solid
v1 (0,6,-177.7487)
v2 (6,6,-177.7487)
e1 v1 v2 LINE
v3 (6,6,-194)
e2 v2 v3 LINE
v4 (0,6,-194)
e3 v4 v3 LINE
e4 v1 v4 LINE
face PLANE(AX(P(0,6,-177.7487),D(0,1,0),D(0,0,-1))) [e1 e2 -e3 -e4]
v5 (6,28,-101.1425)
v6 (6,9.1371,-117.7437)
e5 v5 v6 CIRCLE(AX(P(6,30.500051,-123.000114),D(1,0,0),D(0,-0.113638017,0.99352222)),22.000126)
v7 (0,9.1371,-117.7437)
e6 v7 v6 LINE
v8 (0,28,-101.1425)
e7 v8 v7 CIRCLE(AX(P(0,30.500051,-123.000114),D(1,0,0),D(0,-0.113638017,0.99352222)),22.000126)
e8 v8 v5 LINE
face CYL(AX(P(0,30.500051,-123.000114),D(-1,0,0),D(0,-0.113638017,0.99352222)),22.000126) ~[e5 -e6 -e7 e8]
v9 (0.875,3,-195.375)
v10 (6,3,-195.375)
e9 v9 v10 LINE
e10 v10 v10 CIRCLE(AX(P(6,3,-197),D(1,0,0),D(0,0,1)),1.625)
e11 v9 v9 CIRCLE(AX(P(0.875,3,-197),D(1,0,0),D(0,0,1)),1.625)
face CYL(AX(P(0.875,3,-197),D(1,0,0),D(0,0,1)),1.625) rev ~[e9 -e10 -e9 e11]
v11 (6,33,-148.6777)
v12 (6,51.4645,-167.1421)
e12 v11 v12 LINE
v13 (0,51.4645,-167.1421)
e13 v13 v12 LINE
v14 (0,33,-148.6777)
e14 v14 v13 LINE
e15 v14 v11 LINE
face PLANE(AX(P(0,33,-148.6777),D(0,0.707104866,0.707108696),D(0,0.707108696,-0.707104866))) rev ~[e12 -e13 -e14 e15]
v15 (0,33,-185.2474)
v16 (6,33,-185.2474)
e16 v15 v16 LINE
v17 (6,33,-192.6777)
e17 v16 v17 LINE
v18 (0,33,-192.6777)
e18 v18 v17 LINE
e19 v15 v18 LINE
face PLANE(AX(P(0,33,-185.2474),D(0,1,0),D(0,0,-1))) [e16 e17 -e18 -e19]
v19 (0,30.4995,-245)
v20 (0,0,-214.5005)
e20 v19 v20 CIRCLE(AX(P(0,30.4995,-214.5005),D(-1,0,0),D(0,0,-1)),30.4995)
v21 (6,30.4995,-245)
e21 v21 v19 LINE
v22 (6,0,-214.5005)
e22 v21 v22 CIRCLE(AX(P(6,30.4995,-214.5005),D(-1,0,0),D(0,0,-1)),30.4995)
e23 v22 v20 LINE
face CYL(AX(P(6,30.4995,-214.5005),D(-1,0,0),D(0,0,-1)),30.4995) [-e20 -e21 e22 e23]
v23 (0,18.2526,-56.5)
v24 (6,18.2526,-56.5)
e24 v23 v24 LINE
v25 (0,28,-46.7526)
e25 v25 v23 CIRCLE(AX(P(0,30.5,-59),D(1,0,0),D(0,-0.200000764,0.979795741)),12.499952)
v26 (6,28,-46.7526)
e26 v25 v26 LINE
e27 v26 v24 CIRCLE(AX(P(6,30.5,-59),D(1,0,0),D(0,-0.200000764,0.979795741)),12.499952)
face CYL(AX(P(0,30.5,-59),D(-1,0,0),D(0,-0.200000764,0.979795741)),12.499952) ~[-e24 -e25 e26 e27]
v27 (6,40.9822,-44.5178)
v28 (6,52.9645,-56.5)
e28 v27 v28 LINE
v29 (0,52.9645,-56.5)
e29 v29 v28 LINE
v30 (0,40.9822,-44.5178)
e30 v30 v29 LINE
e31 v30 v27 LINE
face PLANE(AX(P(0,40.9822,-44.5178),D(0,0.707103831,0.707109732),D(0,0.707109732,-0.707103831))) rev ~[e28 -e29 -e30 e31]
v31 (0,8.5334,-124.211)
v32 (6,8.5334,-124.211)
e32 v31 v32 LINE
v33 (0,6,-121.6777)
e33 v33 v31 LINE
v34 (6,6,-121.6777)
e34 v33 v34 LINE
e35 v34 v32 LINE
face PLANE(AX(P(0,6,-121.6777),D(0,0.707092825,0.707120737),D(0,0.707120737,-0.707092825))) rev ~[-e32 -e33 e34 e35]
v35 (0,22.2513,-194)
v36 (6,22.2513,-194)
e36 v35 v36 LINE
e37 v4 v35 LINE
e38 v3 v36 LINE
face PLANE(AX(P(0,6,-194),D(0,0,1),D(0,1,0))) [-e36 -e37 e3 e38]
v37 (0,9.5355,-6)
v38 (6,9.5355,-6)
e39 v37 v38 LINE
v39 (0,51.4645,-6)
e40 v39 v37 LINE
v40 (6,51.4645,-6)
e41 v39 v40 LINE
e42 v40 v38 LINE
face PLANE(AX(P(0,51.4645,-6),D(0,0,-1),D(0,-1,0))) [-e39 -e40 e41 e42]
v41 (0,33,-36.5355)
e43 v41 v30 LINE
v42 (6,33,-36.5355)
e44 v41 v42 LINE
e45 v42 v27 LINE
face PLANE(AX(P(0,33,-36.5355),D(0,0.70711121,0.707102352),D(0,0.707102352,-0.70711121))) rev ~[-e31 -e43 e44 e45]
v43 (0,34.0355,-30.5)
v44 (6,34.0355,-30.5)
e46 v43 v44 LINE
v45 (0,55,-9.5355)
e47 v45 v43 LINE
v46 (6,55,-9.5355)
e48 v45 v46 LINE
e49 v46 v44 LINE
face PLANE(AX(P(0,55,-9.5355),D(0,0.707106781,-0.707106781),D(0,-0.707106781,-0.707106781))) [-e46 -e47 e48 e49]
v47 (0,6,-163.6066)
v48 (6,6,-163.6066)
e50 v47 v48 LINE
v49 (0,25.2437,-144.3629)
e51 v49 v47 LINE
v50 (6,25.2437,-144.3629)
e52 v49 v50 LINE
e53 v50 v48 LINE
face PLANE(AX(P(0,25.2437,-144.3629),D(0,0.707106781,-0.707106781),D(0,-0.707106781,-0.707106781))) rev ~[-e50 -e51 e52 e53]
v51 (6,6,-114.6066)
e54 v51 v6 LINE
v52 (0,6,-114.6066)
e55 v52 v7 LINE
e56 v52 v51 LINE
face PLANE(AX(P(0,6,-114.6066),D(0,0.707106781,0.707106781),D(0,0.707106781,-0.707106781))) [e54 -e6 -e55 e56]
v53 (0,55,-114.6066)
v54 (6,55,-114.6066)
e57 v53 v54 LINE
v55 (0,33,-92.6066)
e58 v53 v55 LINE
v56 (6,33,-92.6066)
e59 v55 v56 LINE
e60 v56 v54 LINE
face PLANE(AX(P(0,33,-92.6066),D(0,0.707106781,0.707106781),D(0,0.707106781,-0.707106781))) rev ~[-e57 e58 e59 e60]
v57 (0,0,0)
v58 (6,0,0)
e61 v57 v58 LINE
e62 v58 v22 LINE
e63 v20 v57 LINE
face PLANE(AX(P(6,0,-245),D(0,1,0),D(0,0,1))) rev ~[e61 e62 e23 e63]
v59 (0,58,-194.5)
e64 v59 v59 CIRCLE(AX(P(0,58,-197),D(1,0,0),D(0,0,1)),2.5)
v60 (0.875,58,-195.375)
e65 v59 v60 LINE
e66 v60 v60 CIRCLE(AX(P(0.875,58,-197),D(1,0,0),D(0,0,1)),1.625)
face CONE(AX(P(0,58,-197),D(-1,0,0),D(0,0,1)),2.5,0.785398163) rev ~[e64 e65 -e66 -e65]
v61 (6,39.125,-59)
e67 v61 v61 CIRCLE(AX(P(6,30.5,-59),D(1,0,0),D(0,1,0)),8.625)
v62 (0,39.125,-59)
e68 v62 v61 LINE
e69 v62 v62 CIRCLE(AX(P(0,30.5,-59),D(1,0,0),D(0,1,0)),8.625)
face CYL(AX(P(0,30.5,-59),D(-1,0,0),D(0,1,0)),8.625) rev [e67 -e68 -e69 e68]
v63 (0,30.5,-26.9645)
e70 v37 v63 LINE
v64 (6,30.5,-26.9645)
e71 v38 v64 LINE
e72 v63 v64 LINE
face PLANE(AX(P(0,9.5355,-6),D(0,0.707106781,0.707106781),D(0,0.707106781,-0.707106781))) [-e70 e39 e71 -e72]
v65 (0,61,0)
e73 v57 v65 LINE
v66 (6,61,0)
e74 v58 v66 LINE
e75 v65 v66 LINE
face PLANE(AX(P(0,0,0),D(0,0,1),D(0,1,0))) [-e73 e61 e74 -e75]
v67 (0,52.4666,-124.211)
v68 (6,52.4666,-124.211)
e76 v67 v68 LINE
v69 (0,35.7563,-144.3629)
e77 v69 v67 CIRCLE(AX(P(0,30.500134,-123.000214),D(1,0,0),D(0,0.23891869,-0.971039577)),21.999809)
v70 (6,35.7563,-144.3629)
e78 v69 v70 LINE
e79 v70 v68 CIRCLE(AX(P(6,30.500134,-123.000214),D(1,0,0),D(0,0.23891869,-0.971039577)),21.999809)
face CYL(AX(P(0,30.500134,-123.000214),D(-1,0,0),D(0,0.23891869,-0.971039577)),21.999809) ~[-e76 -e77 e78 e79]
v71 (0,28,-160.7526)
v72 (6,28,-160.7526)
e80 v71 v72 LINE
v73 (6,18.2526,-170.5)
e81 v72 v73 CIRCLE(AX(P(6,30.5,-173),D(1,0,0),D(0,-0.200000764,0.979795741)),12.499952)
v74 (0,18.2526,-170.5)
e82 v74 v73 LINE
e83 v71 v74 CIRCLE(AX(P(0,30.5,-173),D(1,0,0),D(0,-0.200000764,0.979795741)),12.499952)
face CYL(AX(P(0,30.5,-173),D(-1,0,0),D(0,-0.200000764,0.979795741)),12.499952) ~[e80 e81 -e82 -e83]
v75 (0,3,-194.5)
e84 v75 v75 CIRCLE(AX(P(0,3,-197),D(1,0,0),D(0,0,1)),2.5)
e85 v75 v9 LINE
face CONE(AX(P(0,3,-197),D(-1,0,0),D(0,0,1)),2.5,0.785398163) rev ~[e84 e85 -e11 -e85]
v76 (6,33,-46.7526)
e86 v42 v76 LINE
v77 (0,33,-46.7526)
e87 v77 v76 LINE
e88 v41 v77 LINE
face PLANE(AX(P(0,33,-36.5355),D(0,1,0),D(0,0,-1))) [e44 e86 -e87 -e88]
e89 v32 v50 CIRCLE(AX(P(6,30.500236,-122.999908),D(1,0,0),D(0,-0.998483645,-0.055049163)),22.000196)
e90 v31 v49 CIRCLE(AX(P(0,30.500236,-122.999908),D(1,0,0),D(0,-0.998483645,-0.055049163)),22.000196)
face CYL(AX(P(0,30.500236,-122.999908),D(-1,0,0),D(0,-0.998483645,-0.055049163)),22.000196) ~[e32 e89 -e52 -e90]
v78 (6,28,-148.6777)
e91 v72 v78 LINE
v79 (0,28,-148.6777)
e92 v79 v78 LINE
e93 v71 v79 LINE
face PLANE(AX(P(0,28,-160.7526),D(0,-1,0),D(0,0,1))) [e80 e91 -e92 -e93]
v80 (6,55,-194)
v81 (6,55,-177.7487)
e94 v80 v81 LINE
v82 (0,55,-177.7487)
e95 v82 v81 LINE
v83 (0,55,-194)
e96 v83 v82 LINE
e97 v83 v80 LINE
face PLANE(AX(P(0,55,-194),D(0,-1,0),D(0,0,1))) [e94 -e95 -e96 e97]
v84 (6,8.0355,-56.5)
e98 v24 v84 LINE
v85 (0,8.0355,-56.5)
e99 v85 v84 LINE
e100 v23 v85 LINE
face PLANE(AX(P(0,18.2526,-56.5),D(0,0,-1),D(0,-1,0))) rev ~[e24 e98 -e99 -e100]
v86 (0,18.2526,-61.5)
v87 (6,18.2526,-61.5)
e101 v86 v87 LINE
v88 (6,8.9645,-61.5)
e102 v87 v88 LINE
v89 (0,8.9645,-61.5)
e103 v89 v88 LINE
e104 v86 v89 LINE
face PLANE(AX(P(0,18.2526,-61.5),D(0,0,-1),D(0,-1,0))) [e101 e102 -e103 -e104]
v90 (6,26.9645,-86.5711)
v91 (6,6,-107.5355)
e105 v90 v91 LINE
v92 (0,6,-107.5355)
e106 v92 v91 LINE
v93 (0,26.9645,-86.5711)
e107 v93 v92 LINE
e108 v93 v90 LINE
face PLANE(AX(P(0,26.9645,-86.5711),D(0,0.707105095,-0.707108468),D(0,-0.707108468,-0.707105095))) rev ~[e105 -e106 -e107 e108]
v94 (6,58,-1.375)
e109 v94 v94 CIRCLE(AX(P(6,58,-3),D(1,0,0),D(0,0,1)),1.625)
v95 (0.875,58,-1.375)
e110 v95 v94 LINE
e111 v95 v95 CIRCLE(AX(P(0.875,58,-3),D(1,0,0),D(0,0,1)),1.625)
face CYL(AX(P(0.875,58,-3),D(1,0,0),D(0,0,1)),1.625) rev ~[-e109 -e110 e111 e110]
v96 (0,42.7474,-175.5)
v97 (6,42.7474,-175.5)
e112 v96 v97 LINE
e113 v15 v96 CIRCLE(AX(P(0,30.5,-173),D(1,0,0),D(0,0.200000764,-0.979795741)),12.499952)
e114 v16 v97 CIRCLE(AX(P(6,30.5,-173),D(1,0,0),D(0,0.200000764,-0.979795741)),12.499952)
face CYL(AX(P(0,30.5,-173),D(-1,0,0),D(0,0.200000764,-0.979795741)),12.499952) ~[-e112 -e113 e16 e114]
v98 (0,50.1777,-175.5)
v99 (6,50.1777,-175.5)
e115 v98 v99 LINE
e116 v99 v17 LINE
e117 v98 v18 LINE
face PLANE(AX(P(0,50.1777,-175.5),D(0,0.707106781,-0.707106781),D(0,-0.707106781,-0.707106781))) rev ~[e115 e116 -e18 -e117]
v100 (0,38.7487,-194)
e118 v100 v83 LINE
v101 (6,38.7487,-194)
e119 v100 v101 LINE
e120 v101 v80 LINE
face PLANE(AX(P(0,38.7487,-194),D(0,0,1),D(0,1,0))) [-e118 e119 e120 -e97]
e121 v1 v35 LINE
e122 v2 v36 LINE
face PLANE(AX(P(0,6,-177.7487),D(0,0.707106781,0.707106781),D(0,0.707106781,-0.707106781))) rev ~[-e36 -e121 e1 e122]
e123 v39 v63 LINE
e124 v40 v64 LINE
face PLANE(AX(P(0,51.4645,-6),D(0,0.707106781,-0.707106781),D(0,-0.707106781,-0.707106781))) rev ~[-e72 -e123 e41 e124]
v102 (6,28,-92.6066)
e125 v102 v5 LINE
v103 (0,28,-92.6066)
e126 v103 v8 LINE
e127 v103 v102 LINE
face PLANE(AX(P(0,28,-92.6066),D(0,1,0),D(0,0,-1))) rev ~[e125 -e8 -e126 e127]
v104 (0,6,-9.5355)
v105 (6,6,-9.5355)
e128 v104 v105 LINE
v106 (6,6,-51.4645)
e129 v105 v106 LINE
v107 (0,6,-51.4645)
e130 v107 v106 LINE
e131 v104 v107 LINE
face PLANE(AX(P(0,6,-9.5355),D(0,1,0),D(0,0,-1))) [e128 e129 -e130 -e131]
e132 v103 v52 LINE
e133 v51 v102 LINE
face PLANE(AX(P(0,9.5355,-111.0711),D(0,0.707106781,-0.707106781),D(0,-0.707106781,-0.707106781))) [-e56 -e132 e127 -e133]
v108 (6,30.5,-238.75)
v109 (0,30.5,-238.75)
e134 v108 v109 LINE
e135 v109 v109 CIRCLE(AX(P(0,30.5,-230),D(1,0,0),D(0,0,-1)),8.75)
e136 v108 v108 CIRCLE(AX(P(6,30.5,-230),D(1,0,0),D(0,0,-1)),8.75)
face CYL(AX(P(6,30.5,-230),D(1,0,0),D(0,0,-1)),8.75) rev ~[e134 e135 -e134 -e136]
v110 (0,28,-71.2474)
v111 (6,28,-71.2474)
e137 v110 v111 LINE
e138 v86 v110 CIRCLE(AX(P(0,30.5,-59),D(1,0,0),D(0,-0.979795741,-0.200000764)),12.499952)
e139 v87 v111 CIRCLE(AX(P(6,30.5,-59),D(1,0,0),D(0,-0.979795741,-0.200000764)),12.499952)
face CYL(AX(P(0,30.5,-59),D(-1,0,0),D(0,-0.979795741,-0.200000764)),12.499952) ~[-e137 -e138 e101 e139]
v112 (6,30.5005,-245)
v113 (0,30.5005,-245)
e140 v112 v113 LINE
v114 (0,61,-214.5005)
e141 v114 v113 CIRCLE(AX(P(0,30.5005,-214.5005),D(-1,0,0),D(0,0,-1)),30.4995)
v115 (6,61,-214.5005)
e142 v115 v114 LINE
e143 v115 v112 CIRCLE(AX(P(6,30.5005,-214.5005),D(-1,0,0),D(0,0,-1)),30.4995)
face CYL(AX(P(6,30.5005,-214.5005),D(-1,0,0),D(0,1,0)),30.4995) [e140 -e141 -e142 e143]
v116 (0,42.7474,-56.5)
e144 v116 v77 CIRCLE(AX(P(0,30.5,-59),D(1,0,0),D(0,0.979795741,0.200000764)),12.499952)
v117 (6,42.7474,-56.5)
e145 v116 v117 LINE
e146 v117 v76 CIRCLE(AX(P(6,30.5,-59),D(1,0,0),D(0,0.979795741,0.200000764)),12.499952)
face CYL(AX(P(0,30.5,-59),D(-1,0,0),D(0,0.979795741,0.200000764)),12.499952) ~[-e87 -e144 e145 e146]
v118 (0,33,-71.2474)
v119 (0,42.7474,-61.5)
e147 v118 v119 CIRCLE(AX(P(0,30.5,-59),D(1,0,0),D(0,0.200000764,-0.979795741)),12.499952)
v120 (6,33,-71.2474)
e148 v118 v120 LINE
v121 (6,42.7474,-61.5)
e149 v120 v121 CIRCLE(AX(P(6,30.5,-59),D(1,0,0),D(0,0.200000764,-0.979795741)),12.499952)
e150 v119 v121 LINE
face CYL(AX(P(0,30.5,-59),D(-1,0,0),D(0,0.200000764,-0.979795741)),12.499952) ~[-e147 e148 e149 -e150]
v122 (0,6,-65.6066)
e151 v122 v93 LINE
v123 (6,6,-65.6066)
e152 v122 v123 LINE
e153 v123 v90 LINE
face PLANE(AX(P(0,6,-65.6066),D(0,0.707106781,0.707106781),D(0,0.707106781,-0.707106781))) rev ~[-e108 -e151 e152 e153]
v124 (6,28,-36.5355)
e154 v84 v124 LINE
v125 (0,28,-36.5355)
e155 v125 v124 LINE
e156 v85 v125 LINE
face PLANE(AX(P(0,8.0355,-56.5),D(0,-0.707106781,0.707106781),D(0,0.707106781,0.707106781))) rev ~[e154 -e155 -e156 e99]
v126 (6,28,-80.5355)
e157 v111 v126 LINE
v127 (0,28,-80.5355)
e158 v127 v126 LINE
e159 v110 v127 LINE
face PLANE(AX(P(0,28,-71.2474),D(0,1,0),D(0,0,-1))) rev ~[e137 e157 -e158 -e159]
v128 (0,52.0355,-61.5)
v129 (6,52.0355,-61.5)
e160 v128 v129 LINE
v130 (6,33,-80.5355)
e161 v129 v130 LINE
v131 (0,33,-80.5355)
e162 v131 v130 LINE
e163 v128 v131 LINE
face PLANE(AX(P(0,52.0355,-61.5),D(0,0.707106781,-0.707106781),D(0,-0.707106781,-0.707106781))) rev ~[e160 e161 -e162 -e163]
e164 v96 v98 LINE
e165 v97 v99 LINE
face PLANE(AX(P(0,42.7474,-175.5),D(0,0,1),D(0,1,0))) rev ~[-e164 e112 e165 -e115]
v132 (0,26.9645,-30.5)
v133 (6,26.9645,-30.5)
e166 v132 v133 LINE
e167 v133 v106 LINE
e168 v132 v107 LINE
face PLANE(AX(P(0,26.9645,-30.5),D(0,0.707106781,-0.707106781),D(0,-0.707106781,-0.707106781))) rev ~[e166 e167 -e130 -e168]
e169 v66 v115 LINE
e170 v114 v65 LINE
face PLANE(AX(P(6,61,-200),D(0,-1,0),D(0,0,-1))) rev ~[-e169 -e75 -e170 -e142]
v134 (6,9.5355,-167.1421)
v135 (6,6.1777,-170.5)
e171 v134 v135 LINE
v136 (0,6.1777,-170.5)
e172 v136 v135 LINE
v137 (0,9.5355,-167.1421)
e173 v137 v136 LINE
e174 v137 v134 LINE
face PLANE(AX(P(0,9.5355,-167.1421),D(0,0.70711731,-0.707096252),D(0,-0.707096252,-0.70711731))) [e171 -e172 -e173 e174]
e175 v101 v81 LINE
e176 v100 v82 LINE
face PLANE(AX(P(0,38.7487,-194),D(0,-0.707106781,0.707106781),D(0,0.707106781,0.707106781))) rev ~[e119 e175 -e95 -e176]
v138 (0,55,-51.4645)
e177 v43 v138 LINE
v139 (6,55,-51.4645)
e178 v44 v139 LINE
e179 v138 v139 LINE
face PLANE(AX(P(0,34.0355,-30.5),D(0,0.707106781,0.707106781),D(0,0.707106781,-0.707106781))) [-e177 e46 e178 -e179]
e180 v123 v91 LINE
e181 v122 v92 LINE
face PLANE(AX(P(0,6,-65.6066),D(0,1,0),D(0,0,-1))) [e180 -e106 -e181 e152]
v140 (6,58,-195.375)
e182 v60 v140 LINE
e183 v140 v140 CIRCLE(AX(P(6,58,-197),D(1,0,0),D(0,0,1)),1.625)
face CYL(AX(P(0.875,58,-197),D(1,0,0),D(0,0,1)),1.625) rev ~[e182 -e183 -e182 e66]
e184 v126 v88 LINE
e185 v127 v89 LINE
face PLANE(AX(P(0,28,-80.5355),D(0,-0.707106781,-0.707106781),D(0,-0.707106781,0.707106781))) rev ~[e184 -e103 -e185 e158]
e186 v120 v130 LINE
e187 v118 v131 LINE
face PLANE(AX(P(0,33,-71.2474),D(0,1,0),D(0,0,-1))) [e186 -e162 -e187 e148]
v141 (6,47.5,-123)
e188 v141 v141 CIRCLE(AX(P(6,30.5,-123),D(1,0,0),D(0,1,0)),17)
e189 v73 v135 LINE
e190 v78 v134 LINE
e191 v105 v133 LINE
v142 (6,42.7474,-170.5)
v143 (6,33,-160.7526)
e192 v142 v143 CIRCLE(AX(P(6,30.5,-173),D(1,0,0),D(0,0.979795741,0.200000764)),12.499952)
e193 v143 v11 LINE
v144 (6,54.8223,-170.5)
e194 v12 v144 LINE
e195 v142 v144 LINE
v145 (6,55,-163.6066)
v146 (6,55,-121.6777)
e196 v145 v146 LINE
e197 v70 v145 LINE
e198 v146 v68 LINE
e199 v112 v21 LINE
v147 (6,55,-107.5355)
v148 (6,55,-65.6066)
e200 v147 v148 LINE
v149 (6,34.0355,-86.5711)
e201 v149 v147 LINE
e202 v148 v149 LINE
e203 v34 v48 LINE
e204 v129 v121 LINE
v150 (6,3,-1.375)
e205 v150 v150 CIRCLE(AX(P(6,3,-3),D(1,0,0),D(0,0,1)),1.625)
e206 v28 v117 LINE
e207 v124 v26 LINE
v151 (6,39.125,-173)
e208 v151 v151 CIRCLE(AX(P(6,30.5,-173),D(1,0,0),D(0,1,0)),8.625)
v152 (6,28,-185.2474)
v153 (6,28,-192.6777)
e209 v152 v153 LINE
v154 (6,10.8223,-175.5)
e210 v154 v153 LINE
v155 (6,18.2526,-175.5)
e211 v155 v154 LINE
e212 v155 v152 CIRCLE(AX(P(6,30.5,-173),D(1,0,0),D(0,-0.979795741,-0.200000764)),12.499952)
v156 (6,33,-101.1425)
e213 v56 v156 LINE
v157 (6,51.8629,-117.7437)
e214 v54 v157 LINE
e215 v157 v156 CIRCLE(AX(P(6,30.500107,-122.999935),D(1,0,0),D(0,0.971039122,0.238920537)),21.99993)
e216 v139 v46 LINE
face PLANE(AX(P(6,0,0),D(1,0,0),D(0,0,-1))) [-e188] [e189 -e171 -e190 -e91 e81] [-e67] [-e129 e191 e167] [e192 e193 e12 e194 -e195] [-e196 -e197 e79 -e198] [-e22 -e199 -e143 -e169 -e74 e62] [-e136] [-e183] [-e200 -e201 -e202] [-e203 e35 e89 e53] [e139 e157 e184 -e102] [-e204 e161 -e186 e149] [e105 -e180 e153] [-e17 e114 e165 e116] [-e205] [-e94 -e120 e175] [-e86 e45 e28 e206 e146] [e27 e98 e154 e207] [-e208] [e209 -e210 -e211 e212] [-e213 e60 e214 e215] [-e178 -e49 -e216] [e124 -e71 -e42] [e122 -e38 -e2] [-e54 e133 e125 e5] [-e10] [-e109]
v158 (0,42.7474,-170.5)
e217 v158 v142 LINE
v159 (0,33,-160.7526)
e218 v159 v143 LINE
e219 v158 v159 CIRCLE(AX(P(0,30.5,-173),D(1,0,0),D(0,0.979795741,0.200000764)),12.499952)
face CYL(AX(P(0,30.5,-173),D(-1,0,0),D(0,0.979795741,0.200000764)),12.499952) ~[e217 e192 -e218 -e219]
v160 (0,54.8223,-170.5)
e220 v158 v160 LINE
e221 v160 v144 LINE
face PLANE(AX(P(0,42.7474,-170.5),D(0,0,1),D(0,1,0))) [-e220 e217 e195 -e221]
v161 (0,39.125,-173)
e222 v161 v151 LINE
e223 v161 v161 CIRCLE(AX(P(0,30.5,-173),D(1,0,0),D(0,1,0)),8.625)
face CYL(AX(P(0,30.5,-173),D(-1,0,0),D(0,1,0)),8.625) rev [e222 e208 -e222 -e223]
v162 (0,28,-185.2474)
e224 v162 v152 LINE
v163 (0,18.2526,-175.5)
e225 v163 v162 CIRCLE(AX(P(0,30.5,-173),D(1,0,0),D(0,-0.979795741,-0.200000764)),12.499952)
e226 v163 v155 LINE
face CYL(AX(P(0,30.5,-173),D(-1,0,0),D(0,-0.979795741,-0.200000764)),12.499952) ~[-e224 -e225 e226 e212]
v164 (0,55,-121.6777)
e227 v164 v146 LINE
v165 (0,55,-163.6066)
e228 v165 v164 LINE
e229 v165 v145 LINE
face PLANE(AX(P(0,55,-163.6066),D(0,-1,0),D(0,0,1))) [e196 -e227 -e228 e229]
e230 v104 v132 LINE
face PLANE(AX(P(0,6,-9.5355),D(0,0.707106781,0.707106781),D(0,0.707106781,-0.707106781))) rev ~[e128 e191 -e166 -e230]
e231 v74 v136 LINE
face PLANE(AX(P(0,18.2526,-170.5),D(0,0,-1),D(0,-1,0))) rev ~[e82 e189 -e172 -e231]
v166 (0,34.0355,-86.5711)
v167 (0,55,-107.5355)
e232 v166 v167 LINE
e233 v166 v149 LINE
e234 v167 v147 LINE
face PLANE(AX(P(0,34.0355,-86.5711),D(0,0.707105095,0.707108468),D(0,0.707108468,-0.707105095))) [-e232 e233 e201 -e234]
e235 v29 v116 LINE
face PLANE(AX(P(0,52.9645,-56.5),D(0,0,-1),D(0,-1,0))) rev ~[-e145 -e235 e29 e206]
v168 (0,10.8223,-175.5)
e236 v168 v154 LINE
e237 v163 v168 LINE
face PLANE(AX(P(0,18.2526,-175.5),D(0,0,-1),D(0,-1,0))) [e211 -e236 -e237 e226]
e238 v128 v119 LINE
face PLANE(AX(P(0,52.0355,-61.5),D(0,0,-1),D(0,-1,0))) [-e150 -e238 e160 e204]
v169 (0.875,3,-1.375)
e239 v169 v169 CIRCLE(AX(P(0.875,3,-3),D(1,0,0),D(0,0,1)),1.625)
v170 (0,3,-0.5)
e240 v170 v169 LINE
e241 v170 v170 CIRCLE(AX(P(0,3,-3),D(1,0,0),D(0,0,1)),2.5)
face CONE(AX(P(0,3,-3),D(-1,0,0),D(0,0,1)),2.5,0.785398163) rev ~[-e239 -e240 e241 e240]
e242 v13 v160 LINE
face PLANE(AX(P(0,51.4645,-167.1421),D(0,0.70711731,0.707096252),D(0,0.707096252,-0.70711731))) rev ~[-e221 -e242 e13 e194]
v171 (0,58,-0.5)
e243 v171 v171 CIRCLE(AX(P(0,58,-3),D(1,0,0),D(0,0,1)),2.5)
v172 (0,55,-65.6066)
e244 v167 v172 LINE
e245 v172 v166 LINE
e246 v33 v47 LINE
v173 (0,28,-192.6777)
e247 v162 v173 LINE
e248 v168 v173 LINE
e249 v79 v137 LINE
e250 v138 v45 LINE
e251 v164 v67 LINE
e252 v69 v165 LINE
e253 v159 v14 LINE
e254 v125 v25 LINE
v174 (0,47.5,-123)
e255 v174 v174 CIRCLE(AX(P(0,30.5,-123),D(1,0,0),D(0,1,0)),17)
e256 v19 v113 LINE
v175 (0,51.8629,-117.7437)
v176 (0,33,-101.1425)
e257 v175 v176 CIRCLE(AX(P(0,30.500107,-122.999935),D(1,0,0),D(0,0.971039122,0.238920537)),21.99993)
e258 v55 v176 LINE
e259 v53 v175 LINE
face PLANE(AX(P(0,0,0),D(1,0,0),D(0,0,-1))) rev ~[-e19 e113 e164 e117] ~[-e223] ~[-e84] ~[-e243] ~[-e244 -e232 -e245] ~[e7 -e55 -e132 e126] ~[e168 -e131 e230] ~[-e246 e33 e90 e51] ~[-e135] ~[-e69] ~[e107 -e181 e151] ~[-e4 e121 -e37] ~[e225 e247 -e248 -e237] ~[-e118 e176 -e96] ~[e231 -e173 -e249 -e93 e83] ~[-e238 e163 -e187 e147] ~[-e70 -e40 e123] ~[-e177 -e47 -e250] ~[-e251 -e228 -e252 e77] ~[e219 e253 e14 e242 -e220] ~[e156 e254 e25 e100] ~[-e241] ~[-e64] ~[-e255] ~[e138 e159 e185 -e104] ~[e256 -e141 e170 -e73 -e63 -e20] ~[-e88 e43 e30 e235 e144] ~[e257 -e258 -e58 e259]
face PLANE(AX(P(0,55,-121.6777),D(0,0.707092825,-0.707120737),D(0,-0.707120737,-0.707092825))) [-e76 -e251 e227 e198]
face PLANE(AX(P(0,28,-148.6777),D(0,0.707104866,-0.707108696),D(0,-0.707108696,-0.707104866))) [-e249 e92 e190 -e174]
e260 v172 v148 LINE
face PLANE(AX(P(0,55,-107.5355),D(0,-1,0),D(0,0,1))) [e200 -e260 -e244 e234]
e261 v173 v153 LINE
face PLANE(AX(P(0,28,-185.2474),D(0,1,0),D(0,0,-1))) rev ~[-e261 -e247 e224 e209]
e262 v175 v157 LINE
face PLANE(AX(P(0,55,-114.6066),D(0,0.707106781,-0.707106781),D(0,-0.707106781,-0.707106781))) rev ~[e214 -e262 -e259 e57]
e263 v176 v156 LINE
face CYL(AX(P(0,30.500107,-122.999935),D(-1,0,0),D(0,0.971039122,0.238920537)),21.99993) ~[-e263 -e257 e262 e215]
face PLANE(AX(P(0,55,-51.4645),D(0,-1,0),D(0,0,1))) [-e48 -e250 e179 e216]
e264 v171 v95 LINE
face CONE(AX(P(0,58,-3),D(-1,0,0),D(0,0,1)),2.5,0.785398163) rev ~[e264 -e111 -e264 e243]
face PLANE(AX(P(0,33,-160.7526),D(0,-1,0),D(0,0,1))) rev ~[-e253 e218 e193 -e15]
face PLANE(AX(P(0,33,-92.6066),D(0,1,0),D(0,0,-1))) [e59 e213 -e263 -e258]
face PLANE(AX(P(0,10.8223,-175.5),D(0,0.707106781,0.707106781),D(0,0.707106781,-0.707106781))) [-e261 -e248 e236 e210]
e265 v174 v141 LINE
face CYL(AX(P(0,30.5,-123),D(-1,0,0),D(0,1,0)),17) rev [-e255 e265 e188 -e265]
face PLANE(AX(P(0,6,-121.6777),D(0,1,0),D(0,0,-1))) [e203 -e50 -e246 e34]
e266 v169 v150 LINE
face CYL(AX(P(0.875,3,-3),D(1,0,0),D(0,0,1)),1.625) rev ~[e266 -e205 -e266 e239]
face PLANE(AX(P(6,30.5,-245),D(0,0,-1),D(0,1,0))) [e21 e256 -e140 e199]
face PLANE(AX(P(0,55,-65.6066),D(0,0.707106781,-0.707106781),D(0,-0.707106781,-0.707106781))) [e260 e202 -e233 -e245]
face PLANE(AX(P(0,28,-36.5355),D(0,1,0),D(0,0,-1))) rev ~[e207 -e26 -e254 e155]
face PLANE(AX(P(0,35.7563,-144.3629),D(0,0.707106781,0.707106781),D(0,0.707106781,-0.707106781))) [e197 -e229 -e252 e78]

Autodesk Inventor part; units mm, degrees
ref_plane "YZ Plane" through (0, 0, 0) normal (1, 0, 0) x (0, 1, 0)
ref_plane "XZ Plane" through (0, 0, 0) normal (0, 1, 0) x (-1, 0, 0)
ref_plane "XY Plane" through (0, 0, 0) normal (0, 0, 1) x (1, 0, 0)
sketch "Sketch1" plane through (0, 0, 0) normal (1, 0, 0) x (0, 1, 0)
  line L0 (0, 0) -> (61, 0)
  line L1 (61, 0) -> (61, -200)
  line L2 (61, -200) -> (0, -200)
  line L3 (0, -200) -> (0, 0)
  line L4 (51.4645, -6) -> (9.5355, -6)
  circle A0 centre (30.5, -173) radius 8.625
  circle A1 centre (30.5, -123) radius 17
  circle A2 centre (30.5, -59) radius 8.625
  line L5 (55, -51.4645) -> (55, -9.5355)
  line L6 (55, -9.5355) -> (34.0355, -30.5)
  line L7 (6, -9.5355) -> (26.9645, -30.5)
  line L8 (51.4645, -6) -> (30.5, -26.9645)
  line L9 (26.9645, -30.5) -> (6, -51.4645)
  line L10 (9.5355, -6) -> (30.5, -26.9645)
  line L11 (34.0355, -30.5) -> (55, -51.4645)
  line L12 (6, -9.5355) -> (6, -51.4645)
  line L13 (51.4645, -111.0711) -> (55, -114.6066)
  line L14 (9.5355, -111.0711) -> (6, -114.6066)
  line L15 (55, -107.5355) -> (55, -65.6066)
  line L16 (26.9645, -86.5711) -> (6, -107.5355)
  line L17 (34.0355, -86.5711) -> (55, -107.5355)
  line L18 (55, -65.6066) -> (34.0355, -86.5711)
  line L19 (28, -92.6066) -> (9.5355, -111.0711)
  line L20 (6, -65.6066) -> (26.9645, -86.5711)
  line L21 (33, -92.6066) -> (51.4645, -111.0711)
  line L22 (6, -65.6066) -> (6, -107.5355)
  line L23 (40.9822, -44.5178) -> (52.9645, -56.5)
  line L24 (52.0355, -61.5) -> (33, -80.5355)
  line L25 (28, -80.5355) -> (8.9645, -61.5)
  line L26 (8.0355, -56.5) -> (28, -36.5355)
  line L27 (33, -36.5355) -> (40.9822, -44.5178)
  line L28 (33, -36.5355) -> (33, -46.7526)
  line L29 (33, -71.2474) -> (33, -80.5355)
  line L30 (28, -36.5355) -> (28, -46.7526)
  line L31 (28, -71.2474) -> (28, -80.5355)
  line L32 (18.2526, -61.5) -> (8.9645, -61.5)
  line L33 (18.2526, -56.5) -> (8.0355, -56.5)
  arc A3 (28, -46.7526) -> (18.2526, -56.5) centre (30.5, -59) ccw
  arc A4 (18.2526, -61.5) -> (28, -71.2474) centre (30.5, -59) ccw
  arc A5 (33, -71.2474) -> (42.7474, -61.5) centre (30.5, -59) ccw
  arc A6 (42.7474, -56.5) -> (33, -46.7526) centre (30.5, -59) ccw
  line L34 (52.0355, -61.5) -> (42.7474, -61.5)
  line L35 (52.9645, -56.5) -> (42.7474, -56.5)
  line L36 (10.8223, -175.5) -> (28, -192.6777)
  line L37 (50.1777, -175.5) -> (33, -192.6777)
  line L38 (38.7487, -194) -> (55, -177.7487)
  line L39 (6, -177.7487) -> (22.2513, -194)
  line L40 (9.5355, -167.1421) -> (6.1777, -170.5)
  line L41 (51.4645, -167.1421) -> (54.8223, -170.5)
  line L42 (55, -194) -> (55, -177.7487)
  line L43 (55, -163.6066) -> (55, -121.6777)
  line L44 (6, -194) -> (22.2513, -194)
  line L45 (38.7487, -194) -> (55, -194)
  line L46 (6, -121.6777) -> (6, -163.6066)
  line L47 (6, -177.7487) -> (6, -194)
  line L48 (6, -114.6066) -> (9.1371, -117.7437)
  line L49 (6, -121.6777) -> (8.5334, -124.211)
  line L50 (35.7563, -144.3629) -> (55, -163.6066)
  line L51 (55, -114.6066) -> (51.8629, -117.7437)
  line L52 (25.2437, -144.3629) -> (6, -163.6066)
  line L53 (55, -121.6777) -> (52.4666, -124.211)
  line L54 (28, -148.6777) -> (9.5355, -167.1421)
  line L55 (33, -148.6777) -> (51.4645, -167.1421)
  arc A7 (8.5334, -124.211) -> (25.2437, -144.3629) centre (30.5, -123) ccw
  arc A8 (35.7563, -144.3629) -> (52.4666, -124.211) centre (30.5, -123) ccw
  line L56 (33, -160.7526) -> (33, -148.6777)
  line L57 (33, -185.2474) -> (33, -192.6777)
  line L58 (28, -185.2474) -> (28, -192.6777)
  line L59 (42.7474, -175.5) -> (50.1777, -175.5)
  line L60 (42.7474, -170.5) -> (54.8223, -170.5)
  line L61 (18.2526, -170.5) -> (6.1777, -170.5)
  line L62 (28, -160.7526) -> (28, -148.6777)
  line L63 (18.2526, -175.5) -> (10.8223, -175.5)
  arc A9 (18.2526, -175.5) -> (28, -185.2474) centre (30.5, -173) ccw
  arc A10 (33, -185.2474) -> (42.7474, -175.5) centre (30.5, -173) ccw
  arc A11 (42.7474, -170.5) -> (33, -160.7526) centre (30.5, -173) ccw
  arc A12 (28, -160.7526) -> (18.2526, -170.5) centre (30.5, -173) ccw
  line L64 (33, -92.6066) -> (33, -101.1425)
  line L65 (28, -92.6066) -> (28, -101.1425)
  arc A13 (51.8629, -117.7437) -> (33, -101.1425) centre (30.5, -123) ccw
  arc A14 (28, -101.1425) -> (9.1371, -117.7437) centre (30.5, -123) ccw
  dimension "d0" = 61
  dimension "d1" = 200
  dimension "d49" = 17.25
  dimension "d50" = 34
  dimension "d51" = 17.25
extrude "Extrusion1" add sketch "Sketch1" along normal blind 6
sketch "Sketch2" plane through (0, 0, 0) normal (-1, 0, 0) x (0, 0, 1)
  line L0 (0, 0) -> (-200, 0) projected
  line L1 (-200, 61) -> (0, 61) projected
  line L2 (-200, 0) -> (-200, 61) projected
  line L3 (0, 61) -> (0, 0) projected
  point P0 (-197, 58)
  point P1 (-197, 3)
  point P2 (-3, 58)
  point P3 (-3, 3)
hole "Hole1" at (0, 58, -3) at (0, 58, -197) at (0, 3, -197) at (0, 3, -3) direction (1, 0, 0) diameter 3.25 depth 6 countersink diameter 5 countersink angle 90
sketch "Sketch3" plane through (6, 0, 0) normal (1, 0, 0) x (0, 0, -1)
  circle A0 centre (173, 30.5) radius 8.625 projected
  circle A1 centre (230, 30.5) radius 2.75
  circle A2 centre (230, 30.5) radius 8.75
  line L0 (200, 0) -> (200, 61) projected
  line L1 (245, 30.5) -> (245, 61)
  line L2 (200, 0) -> (200, 61)
  line L3 (200, 61) -> (245, 61)
  line L4 (245, 30.5) -> (245, 0)
  line L5 (245, 0) -> (200, 0)
  point P0 (0, 0)
  dimension "d53" = 5.5
  dimension "d54" = 17.5
  dimension "d55" = 15
extrude "Extrusion2" add sketch "Sketch3" against normal blind 6 contours L0 L3 L1 L4 L5
fillet "Fillet1" radius 30.5 2 edges at (3, 61, -245) (3, 0, -245)
properties part number "Side_Piece"
